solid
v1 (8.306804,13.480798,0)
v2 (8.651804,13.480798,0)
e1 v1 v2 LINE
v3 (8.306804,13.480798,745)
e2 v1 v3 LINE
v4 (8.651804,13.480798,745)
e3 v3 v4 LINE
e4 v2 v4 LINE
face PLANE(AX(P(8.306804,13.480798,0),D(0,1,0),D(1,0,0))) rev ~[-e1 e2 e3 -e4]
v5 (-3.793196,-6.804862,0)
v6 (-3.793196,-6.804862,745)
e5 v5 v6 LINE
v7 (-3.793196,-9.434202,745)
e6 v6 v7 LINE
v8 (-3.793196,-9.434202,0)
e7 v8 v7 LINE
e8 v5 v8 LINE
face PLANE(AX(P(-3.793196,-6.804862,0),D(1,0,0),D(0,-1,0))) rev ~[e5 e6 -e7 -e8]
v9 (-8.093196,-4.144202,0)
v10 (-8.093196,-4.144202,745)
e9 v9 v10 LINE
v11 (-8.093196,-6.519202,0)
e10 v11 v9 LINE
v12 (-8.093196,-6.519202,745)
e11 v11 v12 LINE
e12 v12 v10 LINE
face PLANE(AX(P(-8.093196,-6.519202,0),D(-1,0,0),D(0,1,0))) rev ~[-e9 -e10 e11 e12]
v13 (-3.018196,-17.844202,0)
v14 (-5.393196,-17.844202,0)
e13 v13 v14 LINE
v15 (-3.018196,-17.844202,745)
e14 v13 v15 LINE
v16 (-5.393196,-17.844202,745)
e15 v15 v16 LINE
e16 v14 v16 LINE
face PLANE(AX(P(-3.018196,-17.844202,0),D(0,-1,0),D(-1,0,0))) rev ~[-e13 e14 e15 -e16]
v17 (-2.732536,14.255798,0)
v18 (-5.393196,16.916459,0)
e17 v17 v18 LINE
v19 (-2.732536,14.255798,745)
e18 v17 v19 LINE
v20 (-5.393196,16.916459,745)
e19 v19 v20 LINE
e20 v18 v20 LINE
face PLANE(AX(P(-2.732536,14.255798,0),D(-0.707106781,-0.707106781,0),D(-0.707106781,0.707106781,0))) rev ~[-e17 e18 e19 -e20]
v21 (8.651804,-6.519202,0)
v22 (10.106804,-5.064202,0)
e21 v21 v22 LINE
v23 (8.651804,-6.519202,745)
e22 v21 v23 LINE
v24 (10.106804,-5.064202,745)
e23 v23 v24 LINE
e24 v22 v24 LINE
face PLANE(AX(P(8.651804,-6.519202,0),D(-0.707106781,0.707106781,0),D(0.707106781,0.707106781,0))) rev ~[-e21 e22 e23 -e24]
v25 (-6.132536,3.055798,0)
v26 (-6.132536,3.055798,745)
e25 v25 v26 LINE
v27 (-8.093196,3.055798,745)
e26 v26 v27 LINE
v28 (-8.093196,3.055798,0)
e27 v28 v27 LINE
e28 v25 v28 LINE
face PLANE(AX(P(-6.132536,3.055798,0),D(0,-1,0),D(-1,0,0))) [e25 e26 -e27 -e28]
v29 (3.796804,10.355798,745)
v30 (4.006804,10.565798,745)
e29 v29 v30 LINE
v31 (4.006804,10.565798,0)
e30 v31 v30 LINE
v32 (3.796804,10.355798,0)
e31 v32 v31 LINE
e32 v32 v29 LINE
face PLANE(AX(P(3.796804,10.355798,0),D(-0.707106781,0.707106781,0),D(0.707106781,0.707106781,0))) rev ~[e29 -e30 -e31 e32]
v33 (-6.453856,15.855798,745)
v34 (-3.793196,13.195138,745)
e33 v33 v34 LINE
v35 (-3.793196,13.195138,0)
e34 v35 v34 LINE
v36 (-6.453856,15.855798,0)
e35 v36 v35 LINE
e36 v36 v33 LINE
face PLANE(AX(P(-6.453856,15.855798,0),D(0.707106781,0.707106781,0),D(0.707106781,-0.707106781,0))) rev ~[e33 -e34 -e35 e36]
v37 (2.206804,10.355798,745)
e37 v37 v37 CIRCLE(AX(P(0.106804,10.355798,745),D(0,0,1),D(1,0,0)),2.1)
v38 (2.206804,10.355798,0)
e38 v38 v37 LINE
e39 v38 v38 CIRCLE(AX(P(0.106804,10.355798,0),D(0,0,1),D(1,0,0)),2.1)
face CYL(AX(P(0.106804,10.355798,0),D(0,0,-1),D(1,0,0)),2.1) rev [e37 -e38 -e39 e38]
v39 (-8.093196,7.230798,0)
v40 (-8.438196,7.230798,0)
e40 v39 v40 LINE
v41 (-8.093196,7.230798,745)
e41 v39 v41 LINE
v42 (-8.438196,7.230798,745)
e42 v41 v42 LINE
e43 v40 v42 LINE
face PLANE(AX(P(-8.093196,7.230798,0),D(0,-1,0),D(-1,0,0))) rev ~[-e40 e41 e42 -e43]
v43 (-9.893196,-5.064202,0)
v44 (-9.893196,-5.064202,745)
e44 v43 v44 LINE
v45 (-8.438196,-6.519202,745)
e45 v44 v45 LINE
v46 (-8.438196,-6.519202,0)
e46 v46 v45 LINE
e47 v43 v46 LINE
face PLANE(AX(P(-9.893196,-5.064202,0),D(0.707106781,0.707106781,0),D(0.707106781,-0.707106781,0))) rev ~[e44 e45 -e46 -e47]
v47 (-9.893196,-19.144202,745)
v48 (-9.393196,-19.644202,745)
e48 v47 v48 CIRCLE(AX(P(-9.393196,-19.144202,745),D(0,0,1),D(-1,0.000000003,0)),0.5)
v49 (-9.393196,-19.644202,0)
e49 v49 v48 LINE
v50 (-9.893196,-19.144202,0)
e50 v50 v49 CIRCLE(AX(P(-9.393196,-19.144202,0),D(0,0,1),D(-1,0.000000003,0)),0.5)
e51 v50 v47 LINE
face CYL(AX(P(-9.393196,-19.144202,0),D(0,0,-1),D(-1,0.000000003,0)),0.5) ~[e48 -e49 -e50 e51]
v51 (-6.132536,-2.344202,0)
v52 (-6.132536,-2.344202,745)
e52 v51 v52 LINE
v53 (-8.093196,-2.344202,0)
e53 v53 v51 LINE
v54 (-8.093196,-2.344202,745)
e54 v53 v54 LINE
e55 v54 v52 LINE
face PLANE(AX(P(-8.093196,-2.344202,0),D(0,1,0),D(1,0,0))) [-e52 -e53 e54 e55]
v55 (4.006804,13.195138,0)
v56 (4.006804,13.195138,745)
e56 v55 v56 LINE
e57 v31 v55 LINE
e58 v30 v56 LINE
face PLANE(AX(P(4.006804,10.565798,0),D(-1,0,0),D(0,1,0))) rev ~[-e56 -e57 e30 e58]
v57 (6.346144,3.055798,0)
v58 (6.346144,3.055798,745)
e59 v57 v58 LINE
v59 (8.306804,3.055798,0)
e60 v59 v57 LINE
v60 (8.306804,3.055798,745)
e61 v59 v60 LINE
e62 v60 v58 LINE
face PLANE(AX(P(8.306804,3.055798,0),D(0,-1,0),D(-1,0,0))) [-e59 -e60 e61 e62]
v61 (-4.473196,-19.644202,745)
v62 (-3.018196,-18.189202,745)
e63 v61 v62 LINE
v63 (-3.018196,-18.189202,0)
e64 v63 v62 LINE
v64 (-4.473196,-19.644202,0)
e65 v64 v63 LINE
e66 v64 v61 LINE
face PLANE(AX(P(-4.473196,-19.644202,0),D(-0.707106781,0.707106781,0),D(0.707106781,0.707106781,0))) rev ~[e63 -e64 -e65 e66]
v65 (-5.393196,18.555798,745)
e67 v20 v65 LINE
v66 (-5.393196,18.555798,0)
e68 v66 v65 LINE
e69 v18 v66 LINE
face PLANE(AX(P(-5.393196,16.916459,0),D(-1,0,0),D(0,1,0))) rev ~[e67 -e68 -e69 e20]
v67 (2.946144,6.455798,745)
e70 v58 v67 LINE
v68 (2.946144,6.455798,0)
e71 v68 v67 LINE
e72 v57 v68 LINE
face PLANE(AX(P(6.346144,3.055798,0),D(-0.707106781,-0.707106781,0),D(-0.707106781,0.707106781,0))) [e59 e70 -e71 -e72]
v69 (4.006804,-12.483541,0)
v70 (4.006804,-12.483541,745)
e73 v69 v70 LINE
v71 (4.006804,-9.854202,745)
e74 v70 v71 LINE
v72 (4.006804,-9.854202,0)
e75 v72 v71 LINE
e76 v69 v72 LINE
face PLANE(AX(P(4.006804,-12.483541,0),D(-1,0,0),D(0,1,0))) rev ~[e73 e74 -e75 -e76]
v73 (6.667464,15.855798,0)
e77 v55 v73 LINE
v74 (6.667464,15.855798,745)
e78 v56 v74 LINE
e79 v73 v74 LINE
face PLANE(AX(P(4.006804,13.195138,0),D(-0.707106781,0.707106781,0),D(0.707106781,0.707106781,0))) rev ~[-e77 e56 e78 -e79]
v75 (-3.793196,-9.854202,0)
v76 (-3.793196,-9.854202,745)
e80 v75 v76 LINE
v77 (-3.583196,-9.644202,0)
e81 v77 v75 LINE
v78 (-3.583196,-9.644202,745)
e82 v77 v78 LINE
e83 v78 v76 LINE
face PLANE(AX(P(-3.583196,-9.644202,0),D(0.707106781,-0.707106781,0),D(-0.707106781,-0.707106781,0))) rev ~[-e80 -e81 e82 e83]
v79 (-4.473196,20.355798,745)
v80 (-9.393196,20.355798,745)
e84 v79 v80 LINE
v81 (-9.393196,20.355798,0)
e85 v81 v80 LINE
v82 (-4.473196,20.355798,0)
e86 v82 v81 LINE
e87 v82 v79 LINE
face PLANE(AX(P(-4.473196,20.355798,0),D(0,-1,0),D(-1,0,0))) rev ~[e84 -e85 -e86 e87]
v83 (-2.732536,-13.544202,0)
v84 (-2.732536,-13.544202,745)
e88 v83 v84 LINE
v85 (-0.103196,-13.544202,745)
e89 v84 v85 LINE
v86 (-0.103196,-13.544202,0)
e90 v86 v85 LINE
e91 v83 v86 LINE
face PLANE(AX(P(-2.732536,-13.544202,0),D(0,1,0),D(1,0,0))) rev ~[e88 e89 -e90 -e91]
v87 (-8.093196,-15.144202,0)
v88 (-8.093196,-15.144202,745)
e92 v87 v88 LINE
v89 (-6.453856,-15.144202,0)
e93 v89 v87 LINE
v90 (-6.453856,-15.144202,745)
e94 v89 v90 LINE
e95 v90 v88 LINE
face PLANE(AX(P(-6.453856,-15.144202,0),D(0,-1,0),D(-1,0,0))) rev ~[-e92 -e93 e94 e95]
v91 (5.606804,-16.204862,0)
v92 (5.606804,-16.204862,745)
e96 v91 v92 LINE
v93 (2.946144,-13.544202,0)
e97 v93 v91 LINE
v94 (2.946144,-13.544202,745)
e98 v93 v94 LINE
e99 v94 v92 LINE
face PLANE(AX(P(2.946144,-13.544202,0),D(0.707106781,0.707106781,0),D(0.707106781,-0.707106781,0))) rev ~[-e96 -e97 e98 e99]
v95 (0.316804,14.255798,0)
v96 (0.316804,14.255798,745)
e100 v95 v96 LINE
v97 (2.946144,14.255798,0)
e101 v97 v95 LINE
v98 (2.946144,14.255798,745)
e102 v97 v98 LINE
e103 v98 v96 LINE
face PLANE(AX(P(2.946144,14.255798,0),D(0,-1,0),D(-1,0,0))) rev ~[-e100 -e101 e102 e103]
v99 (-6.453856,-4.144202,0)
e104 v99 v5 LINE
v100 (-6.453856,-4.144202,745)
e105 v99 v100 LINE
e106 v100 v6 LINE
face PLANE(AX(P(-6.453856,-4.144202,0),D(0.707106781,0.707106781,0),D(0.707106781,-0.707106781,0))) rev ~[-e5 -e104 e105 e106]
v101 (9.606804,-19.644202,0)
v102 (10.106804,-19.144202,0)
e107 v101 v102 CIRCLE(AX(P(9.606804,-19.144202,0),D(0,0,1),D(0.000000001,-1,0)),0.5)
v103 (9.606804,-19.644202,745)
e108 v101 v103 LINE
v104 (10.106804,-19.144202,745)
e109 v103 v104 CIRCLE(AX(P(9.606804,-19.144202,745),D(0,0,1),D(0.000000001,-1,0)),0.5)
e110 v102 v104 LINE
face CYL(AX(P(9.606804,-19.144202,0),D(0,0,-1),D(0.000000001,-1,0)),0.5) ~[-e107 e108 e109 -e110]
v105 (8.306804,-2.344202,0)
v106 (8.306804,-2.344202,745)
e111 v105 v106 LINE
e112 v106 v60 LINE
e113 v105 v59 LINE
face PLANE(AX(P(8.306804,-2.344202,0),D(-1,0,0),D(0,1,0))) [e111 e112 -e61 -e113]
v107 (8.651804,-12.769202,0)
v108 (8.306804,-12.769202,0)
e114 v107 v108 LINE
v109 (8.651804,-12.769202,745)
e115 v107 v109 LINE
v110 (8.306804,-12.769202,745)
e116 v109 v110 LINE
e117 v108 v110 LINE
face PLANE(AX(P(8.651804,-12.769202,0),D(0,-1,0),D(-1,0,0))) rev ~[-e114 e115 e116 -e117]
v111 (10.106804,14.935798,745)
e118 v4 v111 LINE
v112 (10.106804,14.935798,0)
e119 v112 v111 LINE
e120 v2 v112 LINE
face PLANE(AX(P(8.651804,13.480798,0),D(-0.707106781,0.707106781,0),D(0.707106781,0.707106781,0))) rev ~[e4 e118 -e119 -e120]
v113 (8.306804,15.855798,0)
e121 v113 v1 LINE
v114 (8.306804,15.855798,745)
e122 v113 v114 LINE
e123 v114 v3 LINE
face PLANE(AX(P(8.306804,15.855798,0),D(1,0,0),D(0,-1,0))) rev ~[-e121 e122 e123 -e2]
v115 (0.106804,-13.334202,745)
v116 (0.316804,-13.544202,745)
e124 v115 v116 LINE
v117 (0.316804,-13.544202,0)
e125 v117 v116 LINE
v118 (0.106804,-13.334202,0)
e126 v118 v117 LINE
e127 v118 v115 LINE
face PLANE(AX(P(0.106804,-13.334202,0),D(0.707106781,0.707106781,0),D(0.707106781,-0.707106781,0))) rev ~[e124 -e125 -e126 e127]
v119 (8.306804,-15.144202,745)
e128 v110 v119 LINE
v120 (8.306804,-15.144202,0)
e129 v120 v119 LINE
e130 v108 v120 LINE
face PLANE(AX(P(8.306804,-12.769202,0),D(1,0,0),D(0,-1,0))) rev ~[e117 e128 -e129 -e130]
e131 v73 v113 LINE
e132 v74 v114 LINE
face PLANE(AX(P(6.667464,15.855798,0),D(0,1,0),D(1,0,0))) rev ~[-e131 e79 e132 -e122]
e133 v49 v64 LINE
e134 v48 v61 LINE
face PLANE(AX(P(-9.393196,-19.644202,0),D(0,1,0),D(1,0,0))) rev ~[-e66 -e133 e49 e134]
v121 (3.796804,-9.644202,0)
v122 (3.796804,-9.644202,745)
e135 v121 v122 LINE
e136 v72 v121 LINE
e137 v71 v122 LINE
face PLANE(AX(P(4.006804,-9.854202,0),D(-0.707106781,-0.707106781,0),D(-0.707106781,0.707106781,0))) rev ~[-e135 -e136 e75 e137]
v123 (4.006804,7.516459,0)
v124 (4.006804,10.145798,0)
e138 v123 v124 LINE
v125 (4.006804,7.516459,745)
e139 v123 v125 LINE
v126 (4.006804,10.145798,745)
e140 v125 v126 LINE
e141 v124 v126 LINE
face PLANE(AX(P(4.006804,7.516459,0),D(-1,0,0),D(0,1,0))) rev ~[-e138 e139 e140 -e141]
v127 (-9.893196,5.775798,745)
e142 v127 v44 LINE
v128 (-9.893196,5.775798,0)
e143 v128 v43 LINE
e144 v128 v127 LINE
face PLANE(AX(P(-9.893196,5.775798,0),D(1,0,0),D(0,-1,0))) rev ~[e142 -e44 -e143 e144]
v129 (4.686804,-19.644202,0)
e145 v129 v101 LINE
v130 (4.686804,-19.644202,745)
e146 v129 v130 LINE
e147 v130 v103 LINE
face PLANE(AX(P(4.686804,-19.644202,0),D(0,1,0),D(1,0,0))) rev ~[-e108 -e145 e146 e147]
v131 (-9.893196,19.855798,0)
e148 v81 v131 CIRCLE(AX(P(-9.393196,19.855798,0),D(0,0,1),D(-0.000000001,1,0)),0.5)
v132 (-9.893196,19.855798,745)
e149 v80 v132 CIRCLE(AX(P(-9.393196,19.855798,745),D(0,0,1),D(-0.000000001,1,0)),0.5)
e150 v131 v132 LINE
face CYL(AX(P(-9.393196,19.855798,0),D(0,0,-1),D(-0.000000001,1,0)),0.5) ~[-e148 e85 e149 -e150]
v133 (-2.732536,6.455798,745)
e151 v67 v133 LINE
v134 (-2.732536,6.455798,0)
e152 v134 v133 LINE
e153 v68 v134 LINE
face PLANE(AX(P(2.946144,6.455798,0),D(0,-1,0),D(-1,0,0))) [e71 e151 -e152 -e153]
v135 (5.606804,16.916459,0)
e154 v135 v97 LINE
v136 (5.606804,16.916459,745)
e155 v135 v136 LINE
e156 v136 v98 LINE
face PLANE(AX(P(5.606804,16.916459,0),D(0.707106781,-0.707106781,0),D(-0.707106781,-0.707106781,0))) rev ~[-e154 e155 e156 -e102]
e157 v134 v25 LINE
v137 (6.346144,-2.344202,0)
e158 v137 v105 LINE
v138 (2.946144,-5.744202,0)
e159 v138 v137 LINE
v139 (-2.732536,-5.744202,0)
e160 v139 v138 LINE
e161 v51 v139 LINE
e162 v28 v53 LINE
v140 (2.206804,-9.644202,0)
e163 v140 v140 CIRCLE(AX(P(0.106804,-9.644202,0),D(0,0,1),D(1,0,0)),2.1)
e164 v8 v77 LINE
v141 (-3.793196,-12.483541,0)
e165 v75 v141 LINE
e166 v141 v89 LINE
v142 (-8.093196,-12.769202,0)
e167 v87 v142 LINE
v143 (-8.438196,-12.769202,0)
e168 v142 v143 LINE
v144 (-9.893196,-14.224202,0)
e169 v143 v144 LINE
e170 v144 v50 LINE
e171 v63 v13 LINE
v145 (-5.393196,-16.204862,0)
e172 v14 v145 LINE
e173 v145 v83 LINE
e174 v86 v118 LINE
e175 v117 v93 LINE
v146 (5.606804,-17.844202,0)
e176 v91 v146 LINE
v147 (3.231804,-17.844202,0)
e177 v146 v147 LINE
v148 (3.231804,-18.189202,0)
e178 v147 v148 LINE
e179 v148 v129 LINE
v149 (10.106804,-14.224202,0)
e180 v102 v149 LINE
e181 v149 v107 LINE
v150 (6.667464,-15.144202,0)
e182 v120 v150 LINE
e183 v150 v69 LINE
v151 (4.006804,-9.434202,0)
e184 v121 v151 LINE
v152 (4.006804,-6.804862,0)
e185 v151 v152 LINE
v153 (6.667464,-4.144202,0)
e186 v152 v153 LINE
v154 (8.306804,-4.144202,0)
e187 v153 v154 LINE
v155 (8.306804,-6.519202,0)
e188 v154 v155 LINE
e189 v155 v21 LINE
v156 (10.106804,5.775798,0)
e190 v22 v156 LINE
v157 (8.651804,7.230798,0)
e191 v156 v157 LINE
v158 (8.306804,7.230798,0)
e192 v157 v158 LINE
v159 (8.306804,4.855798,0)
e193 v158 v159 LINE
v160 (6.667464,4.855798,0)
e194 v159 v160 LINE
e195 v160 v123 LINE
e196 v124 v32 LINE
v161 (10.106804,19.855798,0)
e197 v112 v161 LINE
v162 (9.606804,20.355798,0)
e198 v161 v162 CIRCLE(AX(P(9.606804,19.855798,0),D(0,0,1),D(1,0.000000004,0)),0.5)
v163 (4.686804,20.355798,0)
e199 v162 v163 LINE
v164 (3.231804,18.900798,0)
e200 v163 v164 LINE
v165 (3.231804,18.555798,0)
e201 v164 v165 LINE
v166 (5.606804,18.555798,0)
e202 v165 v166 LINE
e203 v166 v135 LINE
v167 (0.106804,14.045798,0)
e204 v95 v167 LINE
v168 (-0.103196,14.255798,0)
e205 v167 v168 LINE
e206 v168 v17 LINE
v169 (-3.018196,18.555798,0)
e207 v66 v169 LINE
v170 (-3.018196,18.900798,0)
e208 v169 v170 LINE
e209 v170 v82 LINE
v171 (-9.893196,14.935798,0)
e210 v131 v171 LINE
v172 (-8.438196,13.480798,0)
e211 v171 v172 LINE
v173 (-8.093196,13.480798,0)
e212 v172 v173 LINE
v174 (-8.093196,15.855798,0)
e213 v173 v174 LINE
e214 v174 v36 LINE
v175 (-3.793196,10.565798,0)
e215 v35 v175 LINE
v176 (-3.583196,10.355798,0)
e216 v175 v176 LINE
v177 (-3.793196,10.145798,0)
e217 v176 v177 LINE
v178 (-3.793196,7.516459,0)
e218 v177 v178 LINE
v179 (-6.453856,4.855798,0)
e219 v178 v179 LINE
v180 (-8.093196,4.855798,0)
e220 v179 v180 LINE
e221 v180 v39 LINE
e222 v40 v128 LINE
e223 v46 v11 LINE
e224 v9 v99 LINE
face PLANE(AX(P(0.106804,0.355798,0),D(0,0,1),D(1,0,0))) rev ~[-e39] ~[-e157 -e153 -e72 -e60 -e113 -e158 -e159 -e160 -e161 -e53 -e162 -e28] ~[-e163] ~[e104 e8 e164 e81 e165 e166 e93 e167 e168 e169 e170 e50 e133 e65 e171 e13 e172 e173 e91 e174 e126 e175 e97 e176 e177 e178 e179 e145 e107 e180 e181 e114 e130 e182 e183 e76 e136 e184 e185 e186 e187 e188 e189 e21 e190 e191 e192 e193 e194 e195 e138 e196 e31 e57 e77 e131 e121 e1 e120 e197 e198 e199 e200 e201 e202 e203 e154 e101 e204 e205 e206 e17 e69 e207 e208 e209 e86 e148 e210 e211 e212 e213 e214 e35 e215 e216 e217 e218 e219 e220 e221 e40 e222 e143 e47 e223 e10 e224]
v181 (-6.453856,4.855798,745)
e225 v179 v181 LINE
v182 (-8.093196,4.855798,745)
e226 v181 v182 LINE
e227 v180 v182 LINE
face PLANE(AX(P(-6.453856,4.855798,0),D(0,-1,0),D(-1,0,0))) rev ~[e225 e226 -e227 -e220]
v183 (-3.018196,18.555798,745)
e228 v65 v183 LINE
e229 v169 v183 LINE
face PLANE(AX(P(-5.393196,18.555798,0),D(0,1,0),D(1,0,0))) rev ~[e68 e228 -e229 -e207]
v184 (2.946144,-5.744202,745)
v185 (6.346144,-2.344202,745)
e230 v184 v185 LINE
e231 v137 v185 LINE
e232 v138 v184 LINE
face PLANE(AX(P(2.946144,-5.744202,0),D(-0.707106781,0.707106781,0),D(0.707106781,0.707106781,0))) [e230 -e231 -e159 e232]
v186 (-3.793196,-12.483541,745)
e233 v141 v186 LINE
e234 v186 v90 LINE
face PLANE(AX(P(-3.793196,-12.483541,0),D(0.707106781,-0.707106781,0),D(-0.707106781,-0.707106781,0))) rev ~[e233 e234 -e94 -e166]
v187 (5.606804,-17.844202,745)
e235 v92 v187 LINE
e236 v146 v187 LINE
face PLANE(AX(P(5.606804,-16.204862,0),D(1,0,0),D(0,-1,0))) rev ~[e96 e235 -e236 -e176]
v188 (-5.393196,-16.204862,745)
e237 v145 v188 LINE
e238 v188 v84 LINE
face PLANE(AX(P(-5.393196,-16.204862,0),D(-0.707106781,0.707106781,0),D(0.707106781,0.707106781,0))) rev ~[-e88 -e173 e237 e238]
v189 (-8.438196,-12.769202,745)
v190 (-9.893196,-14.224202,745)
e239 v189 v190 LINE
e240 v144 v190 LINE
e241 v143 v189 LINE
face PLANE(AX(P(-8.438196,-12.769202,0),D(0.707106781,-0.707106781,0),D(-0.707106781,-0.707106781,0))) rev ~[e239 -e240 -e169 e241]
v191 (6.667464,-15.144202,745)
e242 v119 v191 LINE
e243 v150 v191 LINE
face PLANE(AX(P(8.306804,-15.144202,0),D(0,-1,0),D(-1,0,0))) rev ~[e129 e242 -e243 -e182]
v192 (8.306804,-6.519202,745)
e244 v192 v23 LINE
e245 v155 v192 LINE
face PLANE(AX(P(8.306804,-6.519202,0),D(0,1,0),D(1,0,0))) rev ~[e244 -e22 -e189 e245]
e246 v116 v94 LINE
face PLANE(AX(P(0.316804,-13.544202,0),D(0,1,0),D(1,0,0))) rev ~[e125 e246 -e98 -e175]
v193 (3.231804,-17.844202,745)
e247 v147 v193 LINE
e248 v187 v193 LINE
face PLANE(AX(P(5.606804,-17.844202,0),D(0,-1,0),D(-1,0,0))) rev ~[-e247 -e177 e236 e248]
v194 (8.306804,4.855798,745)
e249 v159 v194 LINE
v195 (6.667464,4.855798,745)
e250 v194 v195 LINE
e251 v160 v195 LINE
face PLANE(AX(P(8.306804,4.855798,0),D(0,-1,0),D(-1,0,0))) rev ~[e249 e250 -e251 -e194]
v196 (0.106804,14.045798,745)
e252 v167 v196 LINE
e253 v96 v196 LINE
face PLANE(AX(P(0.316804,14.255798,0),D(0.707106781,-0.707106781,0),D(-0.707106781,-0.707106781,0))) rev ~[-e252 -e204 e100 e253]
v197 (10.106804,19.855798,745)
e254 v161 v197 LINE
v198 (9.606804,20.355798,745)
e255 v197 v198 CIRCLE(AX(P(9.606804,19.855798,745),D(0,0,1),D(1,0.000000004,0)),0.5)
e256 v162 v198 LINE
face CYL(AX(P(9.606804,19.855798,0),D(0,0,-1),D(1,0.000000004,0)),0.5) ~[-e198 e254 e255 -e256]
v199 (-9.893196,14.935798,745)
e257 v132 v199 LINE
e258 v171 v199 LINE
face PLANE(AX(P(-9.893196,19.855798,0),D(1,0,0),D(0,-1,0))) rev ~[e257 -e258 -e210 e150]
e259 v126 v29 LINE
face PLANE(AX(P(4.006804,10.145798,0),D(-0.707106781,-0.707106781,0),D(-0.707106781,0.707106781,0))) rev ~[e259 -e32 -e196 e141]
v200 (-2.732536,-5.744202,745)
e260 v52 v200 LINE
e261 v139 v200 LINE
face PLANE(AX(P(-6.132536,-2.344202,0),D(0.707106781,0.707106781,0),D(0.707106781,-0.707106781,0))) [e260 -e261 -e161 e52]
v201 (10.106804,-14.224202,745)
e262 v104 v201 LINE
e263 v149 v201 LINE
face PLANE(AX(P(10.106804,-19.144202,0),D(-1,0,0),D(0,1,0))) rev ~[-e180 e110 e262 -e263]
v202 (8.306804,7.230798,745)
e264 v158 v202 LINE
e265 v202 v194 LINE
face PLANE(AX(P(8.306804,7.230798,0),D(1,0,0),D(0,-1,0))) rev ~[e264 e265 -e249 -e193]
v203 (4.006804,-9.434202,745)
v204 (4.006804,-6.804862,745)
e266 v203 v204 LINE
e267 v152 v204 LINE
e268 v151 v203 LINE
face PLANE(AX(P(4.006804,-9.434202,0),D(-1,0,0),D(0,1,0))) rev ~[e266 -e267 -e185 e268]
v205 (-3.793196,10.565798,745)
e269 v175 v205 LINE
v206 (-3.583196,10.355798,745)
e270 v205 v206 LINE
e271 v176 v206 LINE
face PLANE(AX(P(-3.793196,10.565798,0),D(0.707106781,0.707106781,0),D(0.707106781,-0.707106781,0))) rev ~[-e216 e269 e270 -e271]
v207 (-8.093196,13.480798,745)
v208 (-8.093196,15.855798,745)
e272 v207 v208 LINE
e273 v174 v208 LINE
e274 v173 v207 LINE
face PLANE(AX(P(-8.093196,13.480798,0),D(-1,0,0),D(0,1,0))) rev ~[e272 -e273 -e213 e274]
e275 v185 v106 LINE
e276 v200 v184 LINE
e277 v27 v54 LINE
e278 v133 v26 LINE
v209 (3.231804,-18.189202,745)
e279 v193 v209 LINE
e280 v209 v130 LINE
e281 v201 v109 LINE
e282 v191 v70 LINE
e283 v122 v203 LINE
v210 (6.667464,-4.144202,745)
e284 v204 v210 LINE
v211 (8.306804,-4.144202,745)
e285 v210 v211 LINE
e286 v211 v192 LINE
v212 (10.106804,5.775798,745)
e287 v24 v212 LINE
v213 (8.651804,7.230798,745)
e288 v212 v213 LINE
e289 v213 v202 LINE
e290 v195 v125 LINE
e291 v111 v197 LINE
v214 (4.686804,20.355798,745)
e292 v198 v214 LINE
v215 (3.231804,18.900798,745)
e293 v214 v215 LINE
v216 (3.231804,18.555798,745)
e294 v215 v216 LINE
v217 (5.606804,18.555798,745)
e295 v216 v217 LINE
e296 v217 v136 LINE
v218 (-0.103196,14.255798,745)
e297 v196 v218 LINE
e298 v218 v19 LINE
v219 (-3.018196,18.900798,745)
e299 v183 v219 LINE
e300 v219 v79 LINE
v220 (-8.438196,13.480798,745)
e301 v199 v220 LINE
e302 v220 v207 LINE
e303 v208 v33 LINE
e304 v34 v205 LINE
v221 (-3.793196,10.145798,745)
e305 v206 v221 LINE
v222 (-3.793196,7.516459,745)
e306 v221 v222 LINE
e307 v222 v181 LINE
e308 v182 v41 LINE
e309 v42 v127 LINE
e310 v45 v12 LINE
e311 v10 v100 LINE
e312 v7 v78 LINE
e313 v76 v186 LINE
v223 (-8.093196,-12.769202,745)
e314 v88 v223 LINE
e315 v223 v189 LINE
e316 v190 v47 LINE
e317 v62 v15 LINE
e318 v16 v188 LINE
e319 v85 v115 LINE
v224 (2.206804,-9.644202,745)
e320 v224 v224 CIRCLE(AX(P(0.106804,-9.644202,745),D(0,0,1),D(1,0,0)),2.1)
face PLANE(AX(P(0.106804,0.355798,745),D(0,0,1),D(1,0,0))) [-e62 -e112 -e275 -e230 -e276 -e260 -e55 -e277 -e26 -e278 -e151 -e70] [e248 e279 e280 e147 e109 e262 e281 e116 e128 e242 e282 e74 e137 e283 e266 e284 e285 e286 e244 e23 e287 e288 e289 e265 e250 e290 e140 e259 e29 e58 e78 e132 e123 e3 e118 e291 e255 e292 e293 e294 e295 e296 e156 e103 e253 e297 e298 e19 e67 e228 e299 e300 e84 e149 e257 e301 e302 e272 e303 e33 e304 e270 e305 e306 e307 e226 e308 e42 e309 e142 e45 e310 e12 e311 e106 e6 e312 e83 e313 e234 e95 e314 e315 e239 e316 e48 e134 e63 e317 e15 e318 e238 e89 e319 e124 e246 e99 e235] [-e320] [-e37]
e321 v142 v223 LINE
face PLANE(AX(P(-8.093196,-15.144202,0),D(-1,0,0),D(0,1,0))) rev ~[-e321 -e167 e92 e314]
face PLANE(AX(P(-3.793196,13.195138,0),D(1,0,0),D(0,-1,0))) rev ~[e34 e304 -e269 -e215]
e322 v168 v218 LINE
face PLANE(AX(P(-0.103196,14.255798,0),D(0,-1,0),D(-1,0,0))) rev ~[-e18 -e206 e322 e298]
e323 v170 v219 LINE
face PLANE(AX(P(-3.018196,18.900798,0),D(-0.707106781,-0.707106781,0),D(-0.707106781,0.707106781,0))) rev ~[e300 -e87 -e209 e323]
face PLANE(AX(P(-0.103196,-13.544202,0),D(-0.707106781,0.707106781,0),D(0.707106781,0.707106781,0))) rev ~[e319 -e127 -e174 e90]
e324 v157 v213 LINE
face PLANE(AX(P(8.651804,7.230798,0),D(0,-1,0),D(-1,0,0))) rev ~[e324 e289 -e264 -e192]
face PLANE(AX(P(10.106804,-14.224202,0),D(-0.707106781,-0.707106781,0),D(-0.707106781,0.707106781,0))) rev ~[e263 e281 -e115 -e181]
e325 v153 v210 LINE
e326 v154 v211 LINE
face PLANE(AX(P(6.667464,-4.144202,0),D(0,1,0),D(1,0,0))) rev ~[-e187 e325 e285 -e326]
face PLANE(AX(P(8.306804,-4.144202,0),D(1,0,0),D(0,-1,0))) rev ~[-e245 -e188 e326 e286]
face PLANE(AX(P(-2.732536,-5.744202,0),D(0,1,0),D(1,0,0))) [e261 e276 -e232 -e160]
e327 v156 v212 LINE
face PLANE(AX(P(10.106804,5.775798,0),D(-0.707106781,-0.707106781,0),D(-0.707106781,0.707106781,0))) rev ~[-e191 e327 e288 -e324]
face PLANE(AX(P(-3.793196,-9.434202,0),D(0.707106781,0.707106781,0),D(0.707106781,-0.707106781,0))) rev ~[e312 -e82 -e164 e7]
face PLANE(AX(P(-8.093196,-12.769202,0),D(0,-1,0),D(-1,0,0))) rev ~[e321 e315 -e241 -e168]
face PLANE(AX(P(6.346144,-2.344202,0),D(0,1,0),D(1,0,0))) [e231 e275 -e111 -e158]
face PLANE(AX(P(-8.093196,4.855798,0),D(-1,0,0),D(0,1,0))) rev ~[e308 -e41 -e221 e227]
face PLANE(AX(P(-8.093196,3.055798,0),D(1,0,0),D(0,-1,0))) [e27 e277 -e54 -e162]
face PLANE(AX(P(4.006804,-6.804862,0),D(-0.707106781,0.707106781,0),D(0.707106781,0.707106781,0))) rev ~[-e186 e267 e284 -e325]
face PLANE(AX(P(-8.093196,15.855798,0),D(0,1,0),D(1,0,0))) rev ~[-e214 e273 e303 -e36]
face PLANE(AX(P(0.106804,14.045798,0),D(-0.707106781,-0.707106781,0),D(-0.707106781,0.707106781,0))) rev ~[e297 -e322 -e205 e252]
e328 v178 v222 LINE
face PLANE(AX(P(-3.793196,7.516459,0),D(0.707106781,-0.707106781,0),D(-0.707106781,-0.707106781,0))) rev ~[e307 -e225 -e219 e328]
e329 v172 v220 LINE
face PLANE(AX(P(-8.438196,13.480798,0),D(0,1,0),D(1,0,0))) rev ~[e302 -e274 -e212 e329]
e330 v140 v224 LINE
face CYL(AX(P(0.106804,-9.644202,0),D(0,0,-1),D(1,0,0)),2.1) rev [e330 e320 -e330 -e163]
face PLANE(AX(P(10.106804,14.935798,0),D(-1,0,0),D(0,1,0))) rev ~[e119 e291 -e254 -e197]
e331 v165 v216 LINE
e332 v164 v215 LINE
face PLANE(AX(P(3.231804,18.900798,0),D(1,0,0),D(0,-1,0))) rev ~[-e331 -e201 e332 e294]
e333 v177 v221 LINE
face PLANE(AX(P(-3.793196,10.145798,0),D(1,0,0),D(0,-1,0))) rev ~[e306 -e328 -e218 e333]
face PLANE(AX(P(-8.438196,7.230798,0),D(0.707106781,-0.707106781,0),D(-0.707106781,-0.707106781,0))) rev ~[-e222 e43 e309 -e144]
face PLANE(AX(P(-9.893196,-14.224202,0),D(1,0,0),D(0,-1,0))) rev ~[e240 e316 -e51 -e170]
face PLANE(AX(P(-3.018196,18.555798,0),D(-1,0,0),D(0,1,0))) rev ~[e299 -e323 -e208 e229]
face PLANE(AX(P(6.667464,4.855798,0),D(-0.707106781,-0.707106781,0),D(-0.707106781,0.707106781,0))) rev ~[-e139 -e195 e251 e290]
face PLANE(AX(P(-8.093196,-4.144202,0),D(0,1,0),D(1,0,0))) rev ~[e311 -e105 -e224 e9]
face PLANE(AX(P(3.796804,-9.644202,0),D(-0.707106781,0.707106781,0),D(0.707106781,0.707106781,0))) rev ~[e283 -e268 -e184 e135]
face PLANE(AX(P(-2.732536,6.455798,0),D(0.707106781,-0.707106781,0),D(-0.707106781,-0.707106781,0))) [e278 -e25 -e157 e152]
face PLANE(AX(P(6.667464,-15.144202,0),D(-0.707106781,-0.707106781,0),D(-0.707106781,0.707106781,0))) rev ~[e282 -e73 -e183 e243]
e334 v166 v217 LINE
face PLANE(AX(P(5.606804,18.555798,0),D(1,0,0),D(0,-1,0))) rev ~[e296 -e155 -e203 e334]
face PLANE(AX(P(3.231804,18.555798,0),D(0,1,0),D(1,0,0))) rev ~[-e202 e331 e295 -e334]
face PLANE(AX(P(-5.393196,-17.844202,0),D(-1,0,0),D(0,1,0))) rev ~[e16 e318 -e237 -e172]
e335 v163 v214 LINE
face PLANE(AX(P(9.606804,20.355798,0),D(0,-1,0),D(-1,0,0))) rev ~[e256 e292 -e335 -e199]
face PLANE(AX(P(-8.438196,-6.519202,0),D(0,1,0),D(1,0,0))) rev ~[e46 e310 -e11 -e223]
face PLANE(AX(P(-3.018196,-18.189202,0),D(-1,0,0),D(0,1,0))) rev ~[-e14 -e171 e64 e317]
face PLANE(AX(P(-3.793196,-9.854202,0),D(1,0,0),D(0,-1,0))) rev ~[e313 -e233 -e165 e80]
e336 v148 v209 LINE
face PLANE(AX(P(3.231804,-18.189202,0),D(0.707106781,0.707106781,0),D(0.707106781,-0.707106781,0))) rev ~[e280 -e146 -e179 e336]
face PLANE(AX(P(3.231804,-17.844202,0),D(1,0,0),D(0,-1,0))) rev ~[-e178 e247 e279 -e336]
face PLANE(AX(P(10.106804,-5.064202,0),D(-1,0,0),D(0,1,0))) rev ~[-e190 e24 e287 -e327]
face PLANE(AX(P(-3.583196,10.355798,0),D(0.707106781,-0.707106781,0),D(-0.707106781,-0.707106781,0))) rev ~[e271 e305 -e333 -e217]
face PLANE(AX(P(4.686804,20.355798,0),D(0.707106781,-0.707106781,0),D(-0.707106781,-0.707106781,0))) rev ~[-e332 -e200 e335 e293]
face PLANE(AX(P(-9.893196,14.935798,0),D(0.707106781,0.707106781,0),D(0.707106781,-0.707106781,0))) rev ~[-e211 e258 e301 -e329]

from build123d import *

# Parameters (mm, degrees)
SKETCH2_R           = 2.1
BOSS_EXTRUDE1_DEPTH = 745


with BuildPart() as part:
    # Sketch2 → Boss-Extrude1 (new body)
    with BuildSketch(Plane.XY):
        with BuildLine():
            Line((4.006804208, 10.145798499), (3.796804208, 10.355798499))
            Line((3.796804208, 10.355798499), (4.006804208, 10.565798499))
            Line((4.006804208, 10.565798499), (4.006804208, 13.195138327))
            Line((4.006804208, 13.195138327), (6.66746438, 15.855798499))
            Line((6.66746438, 15.855798499), (8.306804208, 15.855798499))
            Line((8.306804208, 15.855798499), (8.306804208, 13.480798499))
            Line((8.306804208, 13.480798499), (8.651804208, 13.480798499))
            Line((8.651804208, 13.480798499), (10.106804208, 14.935798499))
            Line((10.106804208, 14.935798499), (10.106804208, 19.855798499))
            ThreePointArc((10.106804208, 19.855798499), (9.960357598, 20.209351889), (9.606804208, 20.355798499))
            Line((9.606804208, 20.355798499), (4.686804208, 20.355798499))
            Line((4.686804208, 20.355798499), (3.231804208, 18.900798499))
            Line((3.231804208, 18.900798499), (3.231804208, 18.555798499))
            Line((3.231804208, 18.555798499), (5.606804208, 18.555798499))
            Line((5.606804208, 18.555798499), (5.606804208, 16.91645867))
            Line((5.606804208, 16.91645867), (2.946144036, 14.255798499))
            Line((2.946144036, 14.255798499), (0.316804208, 14.255798499))
            Line((0.316804208, 14.255798499), (0.106804208, 14.045798499))
            Line((0.106804208, 14.045798499), (-0.103195792, 14.255798499))
            Line((-0.103195792, 14.255798499), (-2.73253562, 14.255798499))
            Line((-2.73253562, 14.255798499), (-5.393195792, 16.91645867))
            Line((-5.393195792, 16.91645867), (-5.393195792, 18.555798499))
            Line((-5.393195792, 18.555798499), (-3.018195792, 18.555798499))
            Line((-3.018195792, 18.555798499), (-3.018195792, 18.900798499))
            Line((-3.018195792, 18.900798499), (-4.473195792, 20.355798499))
            Line((-4.473195792, 20.355798499), (-9.393195792, 20.355798499))
            ThreePointArc((-9.393195792, 20.355798499), (-9.746749183, 20.209351889), (-9.893195792, 19.855798499))
            Line((-9.893195792, 19.855798499), (-9.893195792, 14.935798499))
            Line((-9.893195792, 14.935798499), (-8.438195792, 13.480798499))
            Line((-8.438195792, 13.480798499), (-8.093195792, 13.480798499))
            Line((-8.093195792, 13.480798499), (-8.093195792, 15.855798499))
            Line((-8.093195792, 15.855798499), (-6.453855964, 15.855798499))
            Line((-6.453855964, 15.855798499), (-3.793195792, 13.195138327))
            Line((-3.793195792, 13.195138327), (-3.793195792, 10.565798499))
            Line((-3.793195792, 10.565798499), (-3.583195792, 10.355798499))
            Line((-3.583195792, 10.355798499), (-3.793195792, 10.145798499))
            Line((-3.793195792, 10.145798499), (-3.793195792, 7.51645867))
            Line((-3.793195792, 7.51645867), (-6.453855964, 4.855798499))
            Line((-6.453855964, 4.855798499), (-8.093195792, 4.855798499))
            Line((-8.093195792, 4.855798499), (-8.093195792, 7.230798499))
            Line((-8.093195792, 7.230798499), (-8.438195792, 7.230798499))
            Line((-8.438195792, 7.230798499), (-9.893195792, 5.775798499))
            Line((-9.893195792, 5.775798499), (-9.893195792, -5.064201501))
            Line((-9.893195792, -5.064201501), (-8.438195792, -6.519201501))
            Line((-8.438195792, -6.519201501), (-8.093195792, -6.519201501))
            Line((-8.093195792, -6.519201501), (-8.093195792, -4.144201501))
            Line((-8.093195792, -4.144201501), (-6.453855964, -4.144201501))
            Line((-6.453855964, -4.144201501), (-3.793195792, -6.804861673))
            Line((-3.793195792, -6.804861673), (-3.793195792, -9.434201501))
            Line((-3.793195792, -9.434201501), (-3.583195792, -9.644201501))
            Line((-3.583195792, -9.644201501), (-3.793195792, -9.854201501))
            Line((-3.793195792, -9.854201501), (-3.793195792, -12.48354133))
            Line((-3.793195792, -12.48354133), (-6.453855964, -15.144201501))
            Line((-6.453855964, -15.144201501), (-8.093195792, -15.144201501))
            Line((-8.093195792, -15.144201501), (-8.093195792, -12.769201501))
            Line((-8.093195792, -12.769201501), (-8.438195792, -12.769201501))
            Line((-8.438195792, -12.769201501), (-9.893195792, -14.224201501))
            Line((-9.893195792, -14.224201501), (-9.893195792, -19.144201501))
            ThreePointArc((-9.893195792, -19.144201501), (-9.746749183, -19.497754892), (-9.393195792, -19.644201501))
            Line((-9.393195792, -19.644201501), (-4.473195792, -19.644201501))
            Line((-4.473195792, -19.644201501), (-3.018195792, -18.189201501))
            Line((-3.018195792, -18.189201501), (-3.018195792, -17.844201501))
            Line((-3.018195792, -17.844201501), (-5.393195792, -17.844201501))
            Line((-5.393195792, -17.844201501), (-5.393195792, -16.204861673))
            Line((-5.393195792, -16.204861673), (-2.73253562, -13.544201501))
            Line((-2.73253562, -13.544201501), (-0.103195792, -13.544201501))
            Line((-0.103195792, -13.544201501), (0.106804208, -13.334201501))
            Line((0.106804208, -13.334201501), (0.316804208, -13.544201501))
            Line((0.316804208, -13.544201501), (2.946144036, -13.544201501))
            Line((2.946144036, -13.544201501), (5.606804208, -16.204861673))
            Line((5.606804208, -16.204861673), (5.606804208, -17.844201501))
            Line((5.606804208, -17.844201501), (3.231804208, -17.844201501))
            Line((3.231804208, -17.844201501), (3.231804208, -18.189201501))
            Line((3.231804208, -18.189201501), (4.686804208, -19.644201501))
            Line((4.686804208, -19.644201501), (9.606804208, -19.644201501))
            ThreePointArc((9.606804208, -19.644201501), (9.960357598, -19.497754892), (10.106804208, -19.144201501))
            Line((10.106804208, -19.144201501), (10.106804208, -14.224201501))
            Line((10.106804208, -14.224201501), (8.651804208, -12.769201501))
            Line((8.651804208, -12.769201501), (8.306804208, -12.769201501))
            Line((8.306804208, -12.769201501), (8.306804208, -15.144201501))
            Line((8.306804208, -15.144201501), (6.66746438, -15.144201501))
            Line((6.66746438, -15.144201501), (4.006804208, -12.48354133))
            Line((4.006804208, -12.48354133), (4.006804208, -9.854201501))
            Line((4.006804208, -9.854201501), (3.796804208, -9.644201501))
            Line((3.796804208, -9.644201501), (4.006804208, -9.434201501))
            Line((4.006804208, -9.434201501), (4.006804208, -6.804861673))
            Line((4.006804208, -6.804861673), (6.66746438, -4.144201501))
            Line((6.66746438, -4.144201501), (8.306804208, -4.144201501))
            Line((8.306804208, -4.144201501), (8.306804208, -6.519201501))
            Line((8.306804208, -6.519201501), (8.651804208, -6.519201501))
            Line((8.651804208, -6.519201501), (10.106804208, -5.064201501))
            Line((10.106804208, -5.064201501), (10.106804208, 5.775798499))
            Line((10.106804208, 5.775798499), (8.651804208, 7.230798499))
            Line((8.651804208, 7.230798499), (8.306804208, 7.230798499))
            Line((8.306804208, 7.230798499), (8.306804208, 4.855798499))
            Line((8.306804208, 4.855798499), (6.66746438, 4.855798499))
            Line((6.66746438, 4.855798499), (4.006804208, 7.51645867))
            Line((4.006804208, 7.51645867), (4.006804208, 10.145798499))
        make_face()
        with Locations((0.106804208, -9.644201501)):
            Circle(SKETCH2_R, mode=Mode.SUBTRACT)
        with Locations((0.106804208, 10.355798499)):
            Circle(SKETCH2_R, mode=Mode.SUBTRACT)
        Polygon((-6.13253562, -2.344201501), (-2.73253562, -5.744201501), (2.946144036, -5.744201501), (6.346144036, -2.344201501), (8.306804208, -2.344201501), (8.306804208, 3.055798499), (6.346144036, 3.055798499), (2.946144036, 6.455798499), (-2.73253562, 6.455798499), (-6.13253562, 3.055798499), (-8.093195792, 3.055798499), (-8.093195792, -2.344201501), align=None, mode=Mode.SUBTRACT)
    extrude(amount=BOSS_EXTRUDE1_DEPTH)


solid = part.part
